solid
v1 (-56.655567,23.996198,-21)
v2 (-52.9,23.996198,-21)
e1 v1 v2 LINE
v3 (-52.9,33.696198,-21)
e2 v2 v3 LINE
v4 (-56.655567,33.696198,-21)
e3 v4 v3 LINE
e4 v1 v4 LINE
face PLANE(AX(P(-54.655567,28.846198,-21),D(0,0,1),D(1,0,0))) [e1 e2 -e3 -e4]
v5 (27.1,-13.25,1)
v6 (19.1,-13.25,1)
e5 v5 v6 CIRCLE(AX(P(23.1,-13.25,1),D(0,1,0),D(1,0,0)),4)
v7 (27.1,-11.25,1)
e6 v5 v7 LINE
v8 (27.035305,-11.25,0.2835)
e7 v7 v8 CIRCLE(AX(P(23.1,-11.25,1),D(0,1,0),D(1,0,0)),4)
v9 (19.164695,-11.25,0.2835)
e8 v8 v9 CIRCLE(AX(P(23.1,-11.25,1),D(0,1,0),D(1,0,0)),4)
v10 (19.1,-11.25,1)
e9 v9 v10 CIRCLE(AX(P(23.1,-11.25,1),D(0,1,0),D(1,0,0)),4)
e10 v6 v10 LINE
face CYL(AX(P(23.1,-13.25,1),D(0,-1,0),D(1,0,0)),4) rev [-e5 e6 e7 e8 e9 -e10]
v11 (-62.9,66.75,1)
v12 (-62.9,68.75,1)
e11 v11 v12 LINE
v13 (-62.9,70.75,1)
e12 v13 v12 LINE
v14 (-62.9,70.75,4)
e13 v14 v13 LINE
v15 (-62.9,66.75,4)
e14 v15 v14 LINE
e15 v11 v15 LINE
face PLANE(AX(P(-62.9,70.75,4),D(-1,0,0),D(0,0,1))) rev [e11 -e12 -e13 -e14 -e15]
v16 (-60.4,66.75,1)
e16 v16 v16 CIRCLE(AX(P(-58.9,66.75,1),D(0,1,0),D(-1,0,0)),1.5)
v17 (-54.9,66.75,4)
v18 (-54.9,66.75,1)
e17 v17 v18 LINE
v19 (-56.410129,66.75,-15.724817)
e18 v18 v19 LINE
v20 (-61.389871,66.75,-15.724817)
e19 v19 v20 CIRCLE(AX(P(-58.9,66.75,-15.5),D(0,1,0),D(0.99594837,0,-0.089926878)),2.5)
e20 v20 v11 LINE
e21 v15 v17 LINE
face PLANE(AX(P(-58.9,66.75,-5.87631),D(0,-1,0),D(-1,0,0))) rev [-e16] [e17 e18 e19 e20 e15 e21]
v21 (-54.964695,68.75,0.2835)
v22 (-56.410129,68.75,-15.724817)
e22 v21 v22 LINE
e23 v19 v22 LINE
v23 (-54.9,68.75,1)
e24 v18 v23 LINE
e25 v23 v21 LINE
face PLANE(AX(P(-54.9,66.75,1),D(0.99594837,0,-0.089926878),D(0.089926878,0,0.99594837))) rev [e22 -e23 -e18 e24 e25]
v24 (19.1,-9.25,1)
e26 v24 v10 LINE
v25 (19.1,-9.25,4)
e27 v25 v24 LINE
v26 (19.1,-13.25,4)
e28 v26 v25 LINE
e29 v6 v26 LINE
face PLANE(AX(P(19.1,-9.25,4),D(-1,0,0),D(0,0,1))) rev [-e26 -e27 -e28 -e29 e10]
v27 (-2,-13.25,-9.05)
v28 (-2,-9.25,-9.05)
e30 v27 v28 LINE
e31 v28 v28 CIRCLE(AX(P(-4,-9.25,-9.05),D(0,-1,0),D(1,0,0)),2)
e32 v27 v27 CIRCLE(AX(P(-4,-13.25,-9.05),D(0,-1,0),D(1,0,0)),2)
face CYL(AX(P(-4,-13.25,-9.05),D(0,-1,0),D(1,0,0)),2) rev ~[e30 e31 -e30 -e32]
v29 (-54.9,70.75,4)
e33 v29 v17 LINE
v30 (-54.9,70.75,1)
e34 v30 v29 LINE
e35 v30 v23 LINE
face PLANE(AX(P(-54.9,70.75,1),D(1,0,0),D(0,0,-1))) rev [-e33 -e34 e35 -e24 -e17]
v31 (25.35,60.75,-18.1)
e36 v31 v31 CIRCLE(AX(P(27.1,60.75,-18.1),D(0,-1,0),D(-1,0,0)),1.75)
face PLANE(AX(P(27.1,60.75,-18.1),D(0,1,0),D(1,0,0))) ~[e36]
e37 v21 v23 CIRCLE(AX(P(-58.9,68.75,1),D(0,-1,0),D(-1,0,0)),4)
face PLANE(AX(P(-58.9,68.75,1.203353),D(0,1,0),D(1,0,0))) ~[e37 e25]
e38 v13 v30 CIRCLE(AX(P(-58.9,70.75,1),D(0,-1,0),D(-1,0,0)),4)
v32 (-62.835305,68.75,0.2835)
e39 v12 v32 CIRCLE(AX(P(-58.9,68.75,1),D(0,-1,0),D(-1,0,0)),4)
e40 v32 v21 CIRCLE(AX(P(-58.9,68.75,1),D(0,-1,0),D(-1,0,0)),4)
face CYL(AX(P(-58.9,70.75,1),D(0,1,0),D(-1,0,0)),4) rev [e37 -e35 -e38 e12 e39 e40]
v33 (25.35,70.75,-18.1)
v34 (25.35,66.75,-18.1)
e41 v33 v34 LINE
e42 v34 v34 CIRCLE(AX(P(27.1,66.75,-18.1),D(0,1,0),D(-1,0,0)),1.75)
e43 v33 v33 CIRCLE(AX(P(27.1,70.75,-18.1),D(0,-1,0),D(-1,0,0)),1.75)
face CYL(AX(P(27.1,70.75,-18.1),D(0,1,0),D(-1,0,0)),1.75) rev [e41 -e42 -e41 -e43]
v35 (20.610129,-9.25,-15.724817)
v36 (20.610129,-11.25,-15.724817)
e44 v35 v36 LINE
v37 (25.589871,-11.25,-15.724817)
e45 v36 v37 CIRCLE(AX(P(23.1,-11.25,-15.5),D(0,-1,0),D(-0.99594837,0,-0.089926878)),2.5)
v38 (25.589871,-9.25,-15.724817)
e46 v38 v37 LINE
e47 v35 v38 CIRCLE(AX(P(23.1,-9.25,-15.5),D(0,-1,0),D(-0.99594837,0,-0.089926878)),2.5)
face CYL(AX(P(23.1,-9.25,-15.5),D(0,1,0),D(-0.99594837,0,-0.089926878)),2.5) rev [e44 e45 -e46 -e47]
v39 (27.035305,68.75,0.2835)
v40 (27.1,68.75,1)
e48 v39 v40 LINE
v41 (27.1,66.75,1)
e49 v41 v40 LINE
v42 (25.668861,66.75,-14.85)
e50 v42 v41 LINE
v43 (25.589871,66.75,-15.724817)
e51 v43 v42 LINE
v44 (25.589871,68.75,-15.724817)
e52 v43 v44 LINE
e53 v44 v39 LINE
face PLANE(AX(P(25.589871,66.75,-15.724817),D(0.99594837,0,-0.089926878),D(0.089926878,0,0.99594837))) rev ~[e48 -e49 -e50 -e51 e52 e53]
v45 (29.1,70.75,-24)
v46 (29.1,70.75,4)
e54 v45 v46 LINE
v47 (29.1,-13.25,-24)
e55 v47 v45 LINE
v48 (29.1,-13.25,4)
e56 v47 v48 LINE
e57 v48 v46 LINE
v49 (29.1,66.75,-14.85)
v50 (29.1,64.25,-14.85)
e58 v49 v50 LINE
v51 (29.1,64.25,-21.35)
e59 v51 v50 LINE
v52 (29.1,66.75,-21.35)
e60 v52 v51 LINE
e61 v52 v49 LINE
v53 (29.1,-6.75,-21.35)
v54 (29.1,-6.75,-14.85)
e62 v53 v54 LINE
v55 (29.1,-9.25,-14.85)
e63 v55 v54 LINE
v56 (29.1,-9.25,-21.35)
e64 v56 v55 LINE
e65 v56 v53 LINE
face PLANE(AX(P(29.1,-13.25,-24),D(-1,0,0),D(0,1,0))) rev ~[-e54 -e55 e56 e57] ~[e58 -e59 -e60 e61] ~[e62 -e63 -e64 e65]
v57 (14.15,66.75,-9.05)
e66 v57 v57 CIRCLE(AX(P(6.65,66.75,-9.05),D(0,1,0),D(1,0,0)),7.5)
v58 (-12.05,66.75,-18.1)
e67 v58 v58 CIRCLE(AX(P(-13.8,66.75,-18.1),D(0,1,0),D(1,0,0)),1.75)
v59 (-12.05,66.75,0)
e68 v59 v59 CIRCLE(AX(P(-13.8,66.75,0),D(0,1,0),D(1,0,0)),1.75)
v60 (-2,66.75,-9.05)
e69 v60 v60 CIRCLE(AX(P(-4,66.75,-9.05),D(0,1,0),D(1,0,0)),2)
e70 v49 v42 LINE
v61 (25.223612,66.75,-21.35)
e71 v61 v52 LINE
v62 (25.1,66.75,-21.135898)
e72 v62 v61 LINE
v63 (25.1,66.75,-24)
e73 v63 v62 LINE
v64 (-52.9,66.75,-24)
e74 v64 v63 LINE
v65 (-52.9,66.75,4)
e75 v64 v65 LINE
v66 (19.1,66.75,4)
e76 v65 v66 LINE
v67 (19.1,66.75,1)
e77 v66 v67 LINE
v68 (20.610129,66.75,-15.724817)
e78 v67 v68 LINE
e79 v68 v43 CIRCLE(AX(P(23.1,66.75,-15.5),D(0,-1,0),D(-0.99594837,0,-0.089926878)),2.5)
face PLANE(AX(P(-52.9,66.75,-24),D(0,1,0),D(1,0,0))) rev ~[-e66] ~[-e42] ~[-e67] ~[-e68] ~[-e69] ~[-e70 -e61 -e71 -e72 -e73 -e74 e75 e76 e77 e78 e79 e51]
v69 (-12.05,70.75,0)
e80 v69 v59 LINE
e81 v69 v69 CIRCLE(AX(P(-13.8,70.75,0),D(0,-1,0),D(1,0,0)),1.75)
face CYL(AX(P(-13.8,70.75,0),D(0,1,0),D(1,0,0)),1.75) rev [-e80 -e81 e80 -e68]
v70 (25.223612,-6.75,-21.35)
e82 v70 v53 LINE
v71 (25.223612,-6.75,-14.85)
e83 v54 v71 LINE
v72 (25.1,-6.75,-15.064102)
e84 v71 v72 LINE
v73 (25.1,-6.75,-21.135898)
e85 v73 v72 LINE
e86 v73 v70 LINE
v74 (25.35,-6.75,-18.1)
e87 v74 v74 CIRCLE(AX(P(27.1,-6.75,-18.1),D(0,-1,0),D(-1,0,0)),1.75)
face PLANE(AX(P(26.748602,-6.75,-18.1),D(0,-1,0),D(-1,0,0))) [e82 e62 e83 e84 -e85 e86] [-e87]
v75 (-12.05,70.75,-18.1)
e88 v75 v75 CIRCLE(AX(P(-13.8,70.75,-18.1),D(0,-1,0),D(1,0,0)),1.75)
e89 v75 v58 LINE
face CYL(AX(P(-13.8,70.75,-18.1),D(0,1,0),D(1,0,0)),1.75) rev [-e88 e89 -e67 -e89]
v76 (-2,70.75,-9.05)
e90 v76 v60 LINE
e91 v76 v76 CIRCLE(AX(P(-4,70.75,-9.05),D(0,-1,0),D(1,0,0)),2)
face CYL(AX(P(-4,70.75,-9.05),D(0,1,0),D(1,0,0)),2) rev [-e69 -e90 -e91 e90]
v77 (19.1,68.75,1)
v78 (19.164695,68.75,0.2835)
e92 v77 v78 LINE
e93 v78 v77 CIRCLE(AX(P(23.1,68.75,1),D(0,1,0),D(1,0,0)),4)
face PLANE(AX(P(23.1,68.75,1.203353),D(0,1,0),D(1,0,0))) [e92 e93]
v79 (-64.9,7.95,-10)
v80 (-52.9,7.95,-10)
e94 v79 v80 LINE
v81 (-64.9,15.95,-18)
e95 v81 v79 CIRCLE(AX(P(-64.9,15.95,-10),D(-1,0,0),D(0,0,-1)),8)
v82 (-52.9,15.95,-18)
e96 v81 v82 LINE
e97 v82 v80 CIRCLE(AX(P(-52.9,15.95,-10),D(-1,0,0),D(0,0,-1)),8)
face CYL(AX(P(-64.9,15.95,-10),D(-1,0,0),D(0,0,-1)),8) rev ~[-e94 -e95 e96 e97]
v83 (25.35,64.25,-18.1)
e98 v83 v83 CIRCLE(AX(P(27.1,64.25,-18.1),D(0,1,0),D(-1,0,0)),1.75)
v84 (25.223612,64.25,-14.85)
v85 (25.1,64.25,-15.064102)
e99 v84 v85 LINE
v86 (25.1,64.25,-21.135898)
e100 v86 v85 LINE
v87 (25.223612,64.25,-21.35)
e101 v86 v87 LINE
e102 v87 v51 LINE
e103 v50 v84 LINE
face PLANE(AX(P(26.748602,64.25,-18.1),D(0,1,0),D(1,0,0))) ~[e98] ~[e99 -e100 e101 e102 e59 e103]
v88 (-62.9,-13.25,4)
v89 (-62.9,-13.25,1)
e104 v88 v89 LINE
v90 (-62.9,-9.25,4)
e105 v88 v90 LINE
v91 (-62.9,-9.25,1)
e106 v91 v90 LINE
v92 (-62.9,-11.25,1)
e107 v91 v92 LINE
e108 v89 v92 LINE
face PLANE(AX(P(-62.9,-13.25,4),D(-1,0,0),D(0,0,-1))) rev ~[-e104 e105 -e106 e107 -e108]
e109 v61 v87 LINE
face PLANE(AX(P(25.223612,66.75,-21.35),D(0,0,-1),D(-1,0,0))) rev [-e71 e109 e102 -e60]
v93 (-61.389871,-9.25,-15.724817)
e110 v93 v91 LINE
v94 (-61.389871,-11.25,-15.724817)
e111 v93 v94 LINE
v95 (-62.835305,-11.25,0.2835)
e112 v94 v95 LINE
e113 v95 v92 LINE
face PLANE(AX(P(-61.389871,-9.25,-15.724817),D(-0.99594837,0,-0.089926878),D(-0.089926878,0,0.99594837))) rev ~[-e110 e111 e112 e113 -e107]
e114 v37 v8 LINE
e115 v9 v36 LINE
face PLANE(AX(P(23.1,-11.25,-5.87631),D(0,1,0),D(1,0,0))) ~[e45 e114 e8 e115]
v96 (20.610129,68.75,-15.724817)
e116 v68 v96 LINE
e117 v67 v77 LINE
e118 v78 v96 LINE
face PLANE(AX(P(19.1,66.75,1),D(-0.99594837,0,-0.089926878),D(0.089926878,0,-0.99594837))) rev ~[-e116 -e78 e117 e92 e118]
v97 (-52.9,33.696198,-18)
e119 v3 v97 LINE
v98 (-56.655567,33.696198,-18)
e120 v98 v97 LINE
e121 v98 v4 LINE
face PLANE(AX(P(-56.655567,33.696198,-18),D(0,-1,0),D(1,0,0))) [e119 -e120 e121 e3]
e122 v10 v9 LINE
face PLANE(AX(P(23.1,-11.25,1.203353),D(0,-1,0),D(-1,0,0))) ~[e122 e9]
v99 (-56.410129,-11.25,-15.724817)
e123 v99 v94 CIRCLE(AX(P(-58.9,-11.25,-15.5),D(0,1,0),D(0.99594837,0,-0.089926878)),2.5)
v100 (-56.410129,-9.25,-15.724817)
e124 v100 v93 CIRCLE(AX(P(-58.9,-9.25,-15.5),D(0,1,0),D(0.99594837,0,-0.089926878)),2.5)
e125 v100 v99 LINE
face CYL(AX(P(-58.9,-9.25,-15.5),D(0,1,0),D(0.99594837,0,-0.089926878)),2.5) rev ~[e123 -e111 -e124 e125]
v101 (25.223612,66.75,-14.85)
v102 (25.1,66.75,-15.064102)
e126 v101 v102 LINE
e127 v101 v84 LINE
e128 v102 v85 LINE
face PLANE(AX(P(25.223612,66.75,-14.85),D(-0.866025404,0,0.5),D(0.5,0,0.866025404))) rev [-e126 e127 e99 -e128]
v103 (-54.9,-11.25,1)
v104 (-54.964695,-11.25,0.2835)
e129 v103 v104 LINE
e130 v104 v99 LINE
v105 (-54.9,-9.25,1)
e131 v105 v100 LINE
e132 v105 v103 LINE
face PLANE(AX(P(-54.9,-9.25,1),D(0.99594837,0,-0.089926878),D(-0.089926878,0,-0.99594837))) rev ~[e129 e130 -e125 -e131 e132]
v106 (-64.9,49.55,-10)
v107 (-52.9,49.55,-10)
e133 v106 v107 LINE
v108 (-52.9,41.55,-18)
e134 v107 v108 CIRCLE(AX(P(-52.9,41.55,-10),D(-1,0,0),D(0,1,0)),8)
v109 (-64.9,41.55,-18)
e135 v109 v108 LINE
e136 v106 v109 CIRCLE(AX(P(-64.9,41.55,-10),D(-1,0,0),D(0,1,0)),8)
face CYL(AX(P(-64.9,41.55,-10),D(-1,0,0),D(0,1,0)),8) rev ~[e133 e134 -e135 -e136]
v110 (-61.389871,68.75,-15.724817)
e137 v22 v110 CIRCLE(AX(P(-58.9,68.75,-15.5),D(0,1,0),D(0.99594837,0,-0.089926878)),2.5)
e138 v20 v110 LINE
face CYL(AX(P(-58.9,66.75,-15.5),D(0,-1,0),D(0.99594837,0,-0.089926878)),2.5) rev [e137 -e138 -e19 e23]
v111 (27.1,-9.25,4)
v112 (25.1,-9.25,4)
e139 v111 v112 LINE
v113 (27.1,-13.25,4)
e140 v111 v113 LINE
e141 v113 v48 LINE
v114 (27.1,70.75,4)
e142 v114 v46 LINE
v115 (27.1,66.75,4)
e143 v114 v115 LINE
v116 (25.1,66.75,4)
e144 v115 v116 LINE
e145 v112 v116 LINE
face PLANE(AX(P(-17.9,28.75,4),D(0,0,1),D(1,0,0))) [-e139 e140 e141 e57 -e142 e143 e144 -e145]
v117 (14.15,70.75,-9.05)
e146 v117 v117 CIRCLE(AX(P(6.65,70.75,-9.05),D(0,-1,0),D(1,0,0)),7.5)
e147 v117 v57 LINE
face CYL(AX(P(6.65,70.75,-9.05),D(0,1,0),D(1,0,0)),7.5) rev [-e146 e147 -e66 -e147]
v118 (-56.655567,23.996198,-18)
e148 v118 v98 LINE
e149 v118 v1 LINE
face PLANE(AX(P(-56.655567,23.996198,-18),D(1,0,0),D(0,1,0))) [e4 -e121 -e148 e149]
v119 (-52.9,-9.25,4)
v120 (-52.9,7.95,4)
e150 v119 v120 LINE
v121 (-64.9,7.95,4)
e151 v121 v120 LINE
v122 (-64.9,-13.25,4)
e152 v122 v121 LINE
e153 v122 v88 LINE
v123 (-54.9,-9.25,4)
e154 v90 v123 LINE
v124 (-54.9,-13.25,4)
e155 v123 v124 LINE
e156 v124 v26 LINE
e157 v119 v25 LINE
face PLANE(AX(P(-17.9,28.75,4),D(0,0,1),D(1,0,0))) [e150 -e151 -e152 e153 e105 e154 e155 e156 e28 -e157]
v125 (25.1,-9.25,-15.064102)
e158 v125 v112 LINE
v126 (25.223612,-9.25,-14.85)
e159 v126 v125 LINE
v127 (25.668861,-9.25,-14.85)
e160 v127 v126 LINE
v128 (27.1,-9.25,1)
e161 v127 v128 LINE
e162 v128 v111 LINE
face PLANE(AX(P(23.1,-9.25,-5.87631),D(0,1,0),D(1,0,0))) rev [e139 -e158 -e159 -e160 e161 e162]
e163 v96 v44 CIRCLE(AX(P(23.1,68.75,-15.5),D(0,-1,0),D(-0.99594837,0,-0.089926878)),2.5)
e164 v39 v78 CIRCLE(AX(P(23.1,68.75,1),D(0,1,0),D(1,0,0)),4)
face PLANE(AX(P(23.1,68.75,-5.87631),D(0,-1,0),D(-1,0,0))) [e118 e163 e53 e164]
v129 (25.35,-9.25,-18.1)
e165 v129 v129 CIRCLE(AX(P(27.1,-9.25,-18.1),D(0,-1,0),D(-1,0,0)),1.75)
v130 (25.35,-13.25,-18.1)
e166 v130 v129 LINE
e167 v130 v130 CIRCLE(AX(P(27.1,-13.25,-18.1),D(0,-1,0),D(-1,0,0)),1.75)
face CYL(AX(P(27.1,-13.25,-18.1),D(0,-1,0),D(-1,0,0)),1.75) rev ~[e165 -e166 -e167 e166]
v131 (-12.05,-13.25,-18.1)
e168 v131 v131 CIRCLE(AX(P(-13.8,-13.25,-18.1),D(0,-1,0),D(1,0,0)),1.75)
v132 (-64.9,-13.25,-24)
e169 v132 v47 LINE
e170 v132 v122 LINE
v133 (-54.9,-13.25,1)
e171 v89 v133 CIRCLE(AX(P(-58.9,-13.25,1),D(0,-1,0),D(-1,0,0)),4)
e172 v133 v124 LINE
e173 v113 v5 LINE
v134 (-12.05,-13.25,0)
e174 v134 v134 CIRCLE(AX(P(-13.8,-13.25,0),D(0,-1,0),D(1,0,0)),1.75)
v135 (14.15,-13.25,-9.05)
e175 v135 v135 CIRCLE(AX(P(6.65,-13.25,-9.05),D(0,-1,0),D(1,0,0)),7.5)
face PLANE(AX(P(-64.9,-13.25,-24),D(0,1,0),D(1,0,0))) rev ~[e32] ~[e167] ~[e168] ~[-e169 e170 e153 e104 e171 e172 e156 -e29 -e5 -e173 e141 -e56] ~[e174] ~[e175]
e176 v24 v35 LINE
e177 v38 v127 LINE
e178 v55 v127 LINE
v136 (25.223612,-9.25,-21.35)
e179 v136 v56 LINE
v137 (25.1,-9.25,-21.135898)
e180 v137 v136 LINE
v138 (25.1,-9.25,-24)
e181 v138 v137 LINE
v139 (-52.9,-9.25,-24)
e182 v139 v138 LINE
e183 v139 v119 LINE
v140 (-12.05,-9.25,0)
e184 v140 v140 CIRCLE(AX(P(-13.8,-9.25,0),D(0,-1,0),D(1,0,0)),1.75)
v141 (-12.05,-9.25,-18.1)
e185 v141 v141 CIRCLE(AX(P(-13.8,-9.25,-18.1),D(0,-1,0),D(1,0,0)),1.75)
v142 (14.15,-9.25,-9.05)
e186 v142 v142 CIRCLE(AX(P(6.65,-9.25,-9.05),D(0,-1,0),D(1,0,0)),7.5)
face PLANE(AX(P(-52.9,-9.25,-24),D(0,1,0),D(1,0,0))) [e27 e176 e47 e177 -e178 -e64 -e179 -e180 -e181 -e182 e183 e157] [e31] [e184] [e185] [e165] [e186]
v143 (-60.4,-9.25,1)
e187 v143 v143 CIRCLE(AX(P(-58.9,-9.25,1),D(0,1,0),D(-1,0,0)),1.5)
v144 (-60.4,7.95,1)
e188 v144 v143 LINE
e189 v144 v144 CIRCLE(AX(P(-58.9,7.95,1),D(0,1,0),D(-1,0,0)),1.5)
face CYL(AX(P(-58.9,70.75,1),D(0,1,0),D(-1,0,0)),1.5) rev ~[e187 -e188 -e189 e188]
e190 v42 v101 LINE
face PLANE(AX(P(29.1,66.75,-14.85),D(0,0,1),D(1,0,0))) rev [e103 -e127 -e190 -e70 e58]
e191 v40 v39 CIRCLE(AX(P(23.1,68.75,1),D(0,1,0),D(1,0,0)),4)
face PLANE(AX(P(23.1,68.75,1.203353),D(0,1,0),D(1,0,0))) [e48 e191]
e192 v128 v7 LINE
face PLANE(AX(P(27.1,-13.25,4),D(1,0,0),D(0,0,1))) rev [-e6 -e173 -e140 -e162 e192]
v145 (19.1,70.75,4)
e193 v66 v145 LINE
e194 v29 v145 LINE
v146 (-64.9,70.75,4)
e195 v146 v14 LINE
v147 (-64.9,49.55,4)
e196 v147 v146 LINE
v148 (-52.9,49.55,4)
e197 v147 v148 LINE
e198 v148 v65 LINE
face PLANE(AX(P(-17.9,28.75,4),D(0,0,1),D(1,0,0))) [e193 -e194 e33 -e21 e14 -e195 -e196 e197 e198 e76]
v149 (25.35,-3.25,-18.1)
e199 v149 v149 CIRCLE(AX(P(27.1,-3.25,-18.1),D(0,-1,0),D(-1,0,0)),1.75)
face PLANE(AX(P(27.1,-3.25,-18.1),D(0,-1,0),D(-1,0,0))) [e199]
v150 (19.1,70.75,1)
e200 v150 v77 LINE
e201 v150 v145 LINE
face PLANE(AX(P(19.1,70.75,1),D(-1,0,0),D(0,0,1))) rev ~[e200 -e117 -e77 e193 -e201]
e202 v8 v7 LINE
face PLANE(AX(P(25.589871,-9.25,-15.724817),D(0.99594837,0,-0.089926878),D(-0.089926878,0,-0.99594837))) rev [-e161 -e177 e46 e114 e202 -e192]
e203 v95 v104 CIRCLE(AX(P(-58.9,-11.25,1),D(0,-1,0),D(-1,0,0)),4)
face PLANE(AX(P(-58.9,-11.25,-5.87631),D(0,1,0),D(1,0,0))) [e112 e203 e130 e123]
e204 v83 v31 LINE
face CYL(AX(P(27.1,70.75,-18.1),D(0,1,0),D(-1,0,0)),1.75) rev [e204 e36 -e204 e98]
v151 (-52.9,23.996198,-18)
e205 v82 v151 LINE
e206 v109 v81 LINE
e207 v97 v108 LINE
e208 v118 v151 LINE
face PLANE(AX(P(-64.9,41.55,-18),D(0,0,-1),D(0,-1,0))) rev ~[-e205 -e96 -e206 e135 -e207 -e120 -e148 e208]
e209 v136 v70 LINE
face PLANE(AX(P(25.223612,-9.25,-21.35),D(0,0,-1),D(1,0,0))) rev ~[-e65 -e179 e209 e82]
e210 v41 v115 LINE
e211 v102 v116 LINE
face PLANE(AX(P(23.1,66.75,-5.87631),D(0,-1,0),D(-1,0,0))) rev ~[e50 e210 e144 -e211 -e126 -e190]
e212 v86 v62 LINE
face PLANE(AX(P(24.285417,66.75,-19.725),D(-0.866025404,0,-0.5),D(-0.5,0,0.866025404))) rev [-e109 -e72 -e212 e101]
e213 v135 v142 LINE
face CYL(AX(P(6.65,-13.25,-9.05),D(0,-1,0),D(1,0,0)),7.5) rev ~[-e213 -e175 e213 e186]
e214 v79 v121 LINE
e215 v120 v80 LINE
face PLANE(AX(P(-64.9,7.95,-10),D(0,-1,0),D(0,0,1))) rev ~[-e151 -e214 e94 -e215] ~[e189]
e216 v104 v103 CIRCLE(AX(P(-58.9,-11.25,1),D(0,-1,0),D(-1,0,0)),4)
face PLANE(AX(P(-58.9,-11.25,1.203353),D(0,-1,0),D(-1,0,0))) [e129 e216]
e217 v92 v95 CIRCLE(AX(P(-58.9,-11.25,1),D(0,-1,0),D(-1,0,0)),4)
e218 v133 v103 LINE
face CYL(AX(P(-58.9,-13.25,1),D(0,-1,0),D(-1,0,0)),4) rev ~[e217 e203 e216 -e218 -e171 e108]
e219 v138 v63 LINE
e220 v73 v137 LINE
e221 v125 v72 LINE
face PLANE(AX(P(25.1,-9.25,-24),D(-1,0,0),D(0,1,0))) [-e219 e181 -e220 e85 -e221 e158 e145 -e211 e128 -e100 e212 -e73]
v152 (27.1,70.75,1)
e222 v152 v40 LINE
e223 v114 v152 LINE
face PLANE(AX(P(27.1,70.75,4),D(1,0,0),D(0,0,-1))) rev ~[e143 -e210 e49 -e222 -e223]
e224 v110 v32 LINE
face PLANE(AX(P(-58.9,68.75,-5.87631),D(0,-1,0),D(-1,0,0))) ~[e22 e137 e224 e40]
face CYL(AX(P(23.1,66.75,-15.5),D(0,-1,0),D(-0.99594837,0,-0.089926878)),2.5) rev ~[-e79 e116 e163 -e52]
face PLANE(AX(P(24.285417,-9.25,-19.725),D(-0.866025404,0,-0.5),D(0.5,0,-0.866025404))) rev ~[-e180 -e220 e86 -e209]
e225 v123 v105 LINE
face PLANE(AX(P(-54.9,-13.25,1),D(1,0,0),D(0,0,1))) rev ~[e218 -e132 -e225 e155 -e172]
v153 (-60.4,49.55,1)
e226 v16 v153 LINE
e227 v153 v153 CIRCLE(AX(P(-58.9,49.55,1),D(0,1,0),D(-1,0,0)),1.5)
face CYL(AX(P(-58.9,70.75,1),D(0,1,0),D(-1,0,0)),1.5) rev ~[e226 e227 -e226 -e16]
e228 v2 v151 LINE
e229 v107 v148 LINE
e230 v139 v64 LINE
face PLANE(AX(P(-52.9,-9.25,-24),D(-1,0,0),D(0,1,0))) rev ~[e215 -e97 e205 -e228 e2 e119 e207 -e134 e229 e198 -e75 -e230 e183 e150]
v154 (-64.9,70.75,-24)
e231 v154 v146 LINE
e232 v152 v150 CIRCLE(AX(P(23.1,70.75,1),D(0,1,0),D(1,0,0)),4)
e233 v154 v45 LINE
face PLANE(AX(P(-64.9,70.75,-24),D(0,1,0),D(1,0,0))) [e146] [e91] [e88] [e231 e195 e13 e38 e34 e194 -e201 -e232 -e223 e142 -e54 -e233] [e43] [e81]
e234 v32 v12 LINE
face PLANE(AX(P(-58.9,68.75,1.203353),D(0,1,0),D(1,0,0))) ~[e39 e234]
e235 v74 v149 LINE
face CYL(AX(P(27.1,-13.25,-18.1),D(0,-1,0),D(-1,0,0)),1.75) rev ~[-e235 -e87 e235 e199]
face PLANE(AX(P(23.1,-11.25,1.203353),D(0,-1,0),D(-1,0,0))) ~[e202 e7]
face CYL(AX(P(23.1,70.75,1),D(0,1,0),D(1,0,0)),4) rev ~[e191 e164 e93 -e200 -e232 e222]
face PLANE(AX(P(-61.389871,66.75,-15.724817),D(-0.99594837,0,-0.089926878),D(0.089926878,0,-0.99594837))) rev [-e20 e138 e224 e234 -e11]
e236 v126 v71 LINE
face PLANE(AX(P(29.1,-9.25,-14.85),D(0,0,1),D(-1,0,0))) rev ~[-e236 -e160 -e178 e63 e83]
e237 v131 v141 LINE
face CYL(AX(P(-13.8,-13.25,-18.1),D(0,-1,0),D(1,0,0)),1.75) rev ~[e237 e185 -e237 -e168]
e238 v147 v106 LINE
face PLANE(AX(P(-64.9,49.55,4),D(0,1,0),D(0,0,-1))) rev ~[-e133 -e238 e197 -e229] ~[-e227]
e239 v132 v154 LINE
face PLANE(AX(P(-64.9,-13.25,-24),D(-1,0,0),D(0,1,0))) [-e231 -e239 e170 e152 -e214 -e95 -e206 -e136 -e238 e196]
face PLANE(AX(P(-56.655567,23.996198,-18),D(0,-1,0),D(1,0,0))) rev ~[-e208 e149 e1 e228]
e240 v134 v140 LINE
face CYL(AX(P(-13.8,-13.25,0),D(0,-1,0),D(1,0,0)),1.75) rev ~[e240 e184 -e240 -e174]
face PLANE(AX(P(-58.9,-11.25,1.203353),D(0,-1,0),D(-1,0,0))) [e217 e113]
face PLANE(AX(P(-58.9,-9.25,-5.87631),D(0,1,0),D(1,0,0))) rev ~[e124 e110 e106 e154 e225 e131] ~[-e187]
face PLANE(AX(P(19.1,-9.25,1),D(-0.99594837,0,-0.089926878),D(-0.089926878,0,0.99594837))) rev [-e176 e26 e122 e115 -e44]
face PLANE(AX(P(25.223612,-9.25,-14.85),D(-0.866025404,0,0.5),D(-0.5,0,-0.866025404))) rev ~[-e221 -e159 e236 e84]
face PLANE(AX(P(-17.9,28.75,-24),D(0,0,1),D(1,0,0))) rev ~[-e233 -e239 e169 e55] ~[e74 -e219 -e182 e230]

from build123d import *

# Parameters (mm, degrees)
SALIENTE_EXTRUIR1_DEPTH      = 4
SALIENTE_EXTRUIR1_DEPTH_BACK = 24
CROQUIS1_W                   = 94
CROQUIS1_H                   = 84
CROQUIS1_W_2                 = 78
CROQUIS1_H_2                 = 76
CROQUIS10_R                  = 1.5
CORTAR_EXTRUIR6_DEPTH        = 109.830188826
CORTAR_EXTRUIR1_DEPTH        = 2
CORTAR_EXTRUIR5_DEPTH        = 2
CORTAR_EXTRUIR2_REACH        = 122.073
CROQUIS12_R                  = 7.5
CROQUIS12_R_2                = 1.75
CROQUIS12_R_3                = 2
CORTAR_EXTRUIR7_DEPTH        = 10
CROQUIS17_W                  = 4
CROQUIS17_H                  = 9.7
CORTAR_EXTRUIR10_DEPTH       = 3
CORTAR_EXTRUIR11_DEPTH       = 2.5
SIMETR_A2_COPY_1_DEPTH       = 2
SIMETR_A2_COPY_2_DEPTH       = 2


with BuildPart() as part:
    # Croquis1 → Saliente-Extruir1 (new, two sides: drawn at the far end of the back side and taken through both)
    with BuildSketch(Plane.XY.offset(-SALIENTE_EXTRUIR1_DEPTH_BACK)):
        with Locations((-17.9, 28.75)):
            Rectangle(CROQUIS1_W, CROQUIS1_H)
        with Locations((-13.9, 28.75)):
            Rectangle(CROQUIS1_W_2, CROQUIS1_H_2, mode=Mode.SUBTRACT)
    extrude(amount=SALIENTE_EXTRUIR1_DEPTH + SALIENTE_EXTRUIR1_DEPTH_BACK)

    # Croquis10 → Cortar-Extruir6 (cut, through all)
    with BuildSketch(Plane(origin=(0, 70.75, 0), x_dir=(1, 0, 0), z_dir=(0, 1, 0))):
        with Locations((-58.9, -1)):
            Circle(CROQUIS10_R)
    extrude(amount=-CORTAR_EXTRUIR6_DEPTH, mode=Mode.SUBTRACT)

    # Croquis2 → Cortar-Extruir1 (cut)
    with BuildSketch(Plane(origin=(0, -13.25, 0), x_dir=(-1, 0, 0), z_dir=(0, -1, 0))):
        with BuildLine():
            Line((54.9, -1), (54.9, -4))
            Line((54.9, -4), (62.9, -4))
            Line((62.9, -4), (62.9, -1))
            ThreePointArc((62.9, -1), (58.9, 3), (54.9, -1))
        make_face()
    cortar_extruir1 = extrude(amount=-CORTAR_EXTRUIR1_DEPTH, mode=Mode.SUBTRACT)

    # Croquis9 → Cortar-Extruir5 (cut)
    with BuildSketch(Plane(origin=(0, -9.25, 0), x_dir=(1, 0, 0), z_dir=(0, 1, 0))):
        with BuildLine():
            Line((-61.389870926, 15.724817194), (-62.9, -1))
            Line((-62.9, -1), (-62.9, -4))
            Line((-62.9, -4), (-54.9, -4))
            Line((-54.9, -4), (-54.9, -1))
            Line((-54.9, -1), (-56.410129074, 15.724817194))
            ThreePointArc((-56.410129074, 15.724817194), (-58.9, 18), (-61.389870926, 15.724817194))
        make_face()
    cortar_extruir5 = extrude(amount=-CORTAR_EXTRUIR5_DEPTH, mode=Mode.SUBTRACT)

    # Croquis5 → Cortar-Extruir2 (cut, up to next)
    with BuildSketch(Plane.ZY.offset(64.9), mode=Mode.PRIVATE) as cortar_extruir2_sk1:
        with BuildLine():
            Line((-18, 41.55), (-18, 15.95))
            ThreePointArc((-18, 15.95), (-15.656854249, 10.293145751), (-10, 7.95))
            Line((-10, 7.95), (4, 7.95))
            Line((4, 7.95), (4, 49.55))
            Line((4, 49.55), (-10, 49.55))
            ThreePointArc((-10, 49.55), (-15.656854249, 47.206854249), (-18, 41.55))
        make_face()
    cortar_extruir2_tool1 = extrude(cortar_extruir2_sk1.sketch, amount=-CORTAR_EXTRUIR2_REACH, mode=Mode.PRIVATE) & part.part
    add(cortar_extruir2_tool1.solids().sort_by_distance((-64.9, 28.75, -6.714921))[0], mode=Mode.SUBTRACT)

    # Croquis12 → Cortar-Extruir7 (cut)
    with BuildSketch(Plane.XZ.offset(13.25)):
        with Locations((6.65, -9.05)):
            Circle(CROQUIS12_R)
        with Locations((-13.8, 0)):
            Circle(CROQUIS12_R_2)
        with Locations((-13.8, -18.1)):
            Circle(CROQUIS12_R_2)
        with Locations((-4, -9.05)):
            Circle(CROQUIS12_R_3)
        with Locations((27.1, -18.1)):
            Circle(CROQUIS12_R_2)
    cortar_extruir7 = extrude(amount=-CORTAR_EXTRUIR7_DEPTH, mode=Mode.SUBTRACT)

    # Croquis17 → Cortar-Extruir10 (cut)
    with BuildSketch(Plane.XY.offset(-18)):
        with Locations((-54.655566502, 28.846197779)):
            Rectangle(CROQUIS17_W, CROQUIS17_H)
    extrude(amount=-CORTAR_EXTRUIR10_DEPTH, mode=Mode.SUBTRACT)

    # Croquis20 → Cortar-Extruir11 (cut)
    with BuildSketch(Plane(origin=(0, -9.25, 0), x_dir=(-1, 0, 0), z_dir=(0, -1, 0))):
        Polygon((-29.1, 14.85), (-27.1, 14.85), (-25.223611625, 14.85), (-24.285417438, 16.475), (-23.34722325, 18.1), (-24.285417438, 19.725), (-25.223611625, 21.35), (-27.1, 21.35), (-29.1, 21.35), align=None)
    cortar_extruir11 = extrude(amount=-CORTAR_EXTRUIR11_DEPTH, mode=Mode.SUBTRACT)

    # Simetría3: Cortar-Extruir1, Cortar-Extruir5 across plane
    add(cortar_extruir1.mirror(Plane.ZY.offset(17.9)), mode=Mode.SUBTRACT)
    add(cortar_extruir5.mirror(Plane.ZY.offset(17.9)), mode=Mode.SUBTRACT)

    # Simetría2: Cortar-Extruir1, Cortar-Extruir5, Cortar-Extruir7, Cortar-Extruir11 across plane
    add(cortar_extruir1.mirror(Plane(origin=(0, 28.75, 0), x_dir=(0, 0, 1), z_dir=(0, -1, 0))), mode=Mode.SUBTRACT)
    add(cortar_extruir5.mirror(Plane(origin=(0, 28.75, 0), x_dir=(0, 0, 1), z_dir=(0, -1, 0))), mode=Mode.SUBTRACT)
    add(cortar_extruir7.mirror(Plane(origin=(0, 28.75, 0), x_dir=(0, 0, 1), z_dir=(0, -1, 0))), mode=Mode.SUBTRACT)
    add(cortar_extruir11.mirror(Plane(origin=(0, 28.75, 0), x_dir=(0, 0, 1), z_dir=(0, -1, 0))), mode=Mode.SUBTRACT)

    # Simetría2 copy 1 sketch → Simetría2 copy 1 (cut)
    with BuildSketch(Plane(origin=(-35.8, 70.75, 0), x_dir=(1, 0, 0), z_dir=(0, 1, 0))):
        with BuildLine():
            Line((54.9, -1), (54.9, -4))
            Line((54.9, -4), (62.9, -4))
            Line((62.9, -4), (62.9, -1))
            ThreePointArc((62.9, -1), (58.9, 3), (54.9, -1))
        make_face()
    extrude(amount=-SIMETR_A2_COPY_1_DEPTH, mode=Mode.SUBTRACT)

    # Simetría2 copy 2 sketch → Simetría2 copy 2 (cut)
    with BuildSketch(Plane(origin=(-35.8, 66.75, 0), x_dir=(-1, 0, 0), z_dir=(0, -1, 0))):
        with BuildLine():
            Line((-61.389870926, 15.724817194), (-62.9, -1))
            Line((-62.9, -1), (-62.9, -4))
            Line((-62.9, -4), (-54.9, -4))
            Line((-54.9, -4), (-54.9, -1))
            Line((-54.9, -1), (-56.410129074, 15.724817194))
            ThreePointArc((-56.410129074, 15.724817194), (-58.9, 18), (-61.389870926, 15.724817194))
        make_face()
    extrude(amount=-SIMETR_A2_COPY_2_DEPTH, mode=Mode.SUBTRACT)


solid = part.part
